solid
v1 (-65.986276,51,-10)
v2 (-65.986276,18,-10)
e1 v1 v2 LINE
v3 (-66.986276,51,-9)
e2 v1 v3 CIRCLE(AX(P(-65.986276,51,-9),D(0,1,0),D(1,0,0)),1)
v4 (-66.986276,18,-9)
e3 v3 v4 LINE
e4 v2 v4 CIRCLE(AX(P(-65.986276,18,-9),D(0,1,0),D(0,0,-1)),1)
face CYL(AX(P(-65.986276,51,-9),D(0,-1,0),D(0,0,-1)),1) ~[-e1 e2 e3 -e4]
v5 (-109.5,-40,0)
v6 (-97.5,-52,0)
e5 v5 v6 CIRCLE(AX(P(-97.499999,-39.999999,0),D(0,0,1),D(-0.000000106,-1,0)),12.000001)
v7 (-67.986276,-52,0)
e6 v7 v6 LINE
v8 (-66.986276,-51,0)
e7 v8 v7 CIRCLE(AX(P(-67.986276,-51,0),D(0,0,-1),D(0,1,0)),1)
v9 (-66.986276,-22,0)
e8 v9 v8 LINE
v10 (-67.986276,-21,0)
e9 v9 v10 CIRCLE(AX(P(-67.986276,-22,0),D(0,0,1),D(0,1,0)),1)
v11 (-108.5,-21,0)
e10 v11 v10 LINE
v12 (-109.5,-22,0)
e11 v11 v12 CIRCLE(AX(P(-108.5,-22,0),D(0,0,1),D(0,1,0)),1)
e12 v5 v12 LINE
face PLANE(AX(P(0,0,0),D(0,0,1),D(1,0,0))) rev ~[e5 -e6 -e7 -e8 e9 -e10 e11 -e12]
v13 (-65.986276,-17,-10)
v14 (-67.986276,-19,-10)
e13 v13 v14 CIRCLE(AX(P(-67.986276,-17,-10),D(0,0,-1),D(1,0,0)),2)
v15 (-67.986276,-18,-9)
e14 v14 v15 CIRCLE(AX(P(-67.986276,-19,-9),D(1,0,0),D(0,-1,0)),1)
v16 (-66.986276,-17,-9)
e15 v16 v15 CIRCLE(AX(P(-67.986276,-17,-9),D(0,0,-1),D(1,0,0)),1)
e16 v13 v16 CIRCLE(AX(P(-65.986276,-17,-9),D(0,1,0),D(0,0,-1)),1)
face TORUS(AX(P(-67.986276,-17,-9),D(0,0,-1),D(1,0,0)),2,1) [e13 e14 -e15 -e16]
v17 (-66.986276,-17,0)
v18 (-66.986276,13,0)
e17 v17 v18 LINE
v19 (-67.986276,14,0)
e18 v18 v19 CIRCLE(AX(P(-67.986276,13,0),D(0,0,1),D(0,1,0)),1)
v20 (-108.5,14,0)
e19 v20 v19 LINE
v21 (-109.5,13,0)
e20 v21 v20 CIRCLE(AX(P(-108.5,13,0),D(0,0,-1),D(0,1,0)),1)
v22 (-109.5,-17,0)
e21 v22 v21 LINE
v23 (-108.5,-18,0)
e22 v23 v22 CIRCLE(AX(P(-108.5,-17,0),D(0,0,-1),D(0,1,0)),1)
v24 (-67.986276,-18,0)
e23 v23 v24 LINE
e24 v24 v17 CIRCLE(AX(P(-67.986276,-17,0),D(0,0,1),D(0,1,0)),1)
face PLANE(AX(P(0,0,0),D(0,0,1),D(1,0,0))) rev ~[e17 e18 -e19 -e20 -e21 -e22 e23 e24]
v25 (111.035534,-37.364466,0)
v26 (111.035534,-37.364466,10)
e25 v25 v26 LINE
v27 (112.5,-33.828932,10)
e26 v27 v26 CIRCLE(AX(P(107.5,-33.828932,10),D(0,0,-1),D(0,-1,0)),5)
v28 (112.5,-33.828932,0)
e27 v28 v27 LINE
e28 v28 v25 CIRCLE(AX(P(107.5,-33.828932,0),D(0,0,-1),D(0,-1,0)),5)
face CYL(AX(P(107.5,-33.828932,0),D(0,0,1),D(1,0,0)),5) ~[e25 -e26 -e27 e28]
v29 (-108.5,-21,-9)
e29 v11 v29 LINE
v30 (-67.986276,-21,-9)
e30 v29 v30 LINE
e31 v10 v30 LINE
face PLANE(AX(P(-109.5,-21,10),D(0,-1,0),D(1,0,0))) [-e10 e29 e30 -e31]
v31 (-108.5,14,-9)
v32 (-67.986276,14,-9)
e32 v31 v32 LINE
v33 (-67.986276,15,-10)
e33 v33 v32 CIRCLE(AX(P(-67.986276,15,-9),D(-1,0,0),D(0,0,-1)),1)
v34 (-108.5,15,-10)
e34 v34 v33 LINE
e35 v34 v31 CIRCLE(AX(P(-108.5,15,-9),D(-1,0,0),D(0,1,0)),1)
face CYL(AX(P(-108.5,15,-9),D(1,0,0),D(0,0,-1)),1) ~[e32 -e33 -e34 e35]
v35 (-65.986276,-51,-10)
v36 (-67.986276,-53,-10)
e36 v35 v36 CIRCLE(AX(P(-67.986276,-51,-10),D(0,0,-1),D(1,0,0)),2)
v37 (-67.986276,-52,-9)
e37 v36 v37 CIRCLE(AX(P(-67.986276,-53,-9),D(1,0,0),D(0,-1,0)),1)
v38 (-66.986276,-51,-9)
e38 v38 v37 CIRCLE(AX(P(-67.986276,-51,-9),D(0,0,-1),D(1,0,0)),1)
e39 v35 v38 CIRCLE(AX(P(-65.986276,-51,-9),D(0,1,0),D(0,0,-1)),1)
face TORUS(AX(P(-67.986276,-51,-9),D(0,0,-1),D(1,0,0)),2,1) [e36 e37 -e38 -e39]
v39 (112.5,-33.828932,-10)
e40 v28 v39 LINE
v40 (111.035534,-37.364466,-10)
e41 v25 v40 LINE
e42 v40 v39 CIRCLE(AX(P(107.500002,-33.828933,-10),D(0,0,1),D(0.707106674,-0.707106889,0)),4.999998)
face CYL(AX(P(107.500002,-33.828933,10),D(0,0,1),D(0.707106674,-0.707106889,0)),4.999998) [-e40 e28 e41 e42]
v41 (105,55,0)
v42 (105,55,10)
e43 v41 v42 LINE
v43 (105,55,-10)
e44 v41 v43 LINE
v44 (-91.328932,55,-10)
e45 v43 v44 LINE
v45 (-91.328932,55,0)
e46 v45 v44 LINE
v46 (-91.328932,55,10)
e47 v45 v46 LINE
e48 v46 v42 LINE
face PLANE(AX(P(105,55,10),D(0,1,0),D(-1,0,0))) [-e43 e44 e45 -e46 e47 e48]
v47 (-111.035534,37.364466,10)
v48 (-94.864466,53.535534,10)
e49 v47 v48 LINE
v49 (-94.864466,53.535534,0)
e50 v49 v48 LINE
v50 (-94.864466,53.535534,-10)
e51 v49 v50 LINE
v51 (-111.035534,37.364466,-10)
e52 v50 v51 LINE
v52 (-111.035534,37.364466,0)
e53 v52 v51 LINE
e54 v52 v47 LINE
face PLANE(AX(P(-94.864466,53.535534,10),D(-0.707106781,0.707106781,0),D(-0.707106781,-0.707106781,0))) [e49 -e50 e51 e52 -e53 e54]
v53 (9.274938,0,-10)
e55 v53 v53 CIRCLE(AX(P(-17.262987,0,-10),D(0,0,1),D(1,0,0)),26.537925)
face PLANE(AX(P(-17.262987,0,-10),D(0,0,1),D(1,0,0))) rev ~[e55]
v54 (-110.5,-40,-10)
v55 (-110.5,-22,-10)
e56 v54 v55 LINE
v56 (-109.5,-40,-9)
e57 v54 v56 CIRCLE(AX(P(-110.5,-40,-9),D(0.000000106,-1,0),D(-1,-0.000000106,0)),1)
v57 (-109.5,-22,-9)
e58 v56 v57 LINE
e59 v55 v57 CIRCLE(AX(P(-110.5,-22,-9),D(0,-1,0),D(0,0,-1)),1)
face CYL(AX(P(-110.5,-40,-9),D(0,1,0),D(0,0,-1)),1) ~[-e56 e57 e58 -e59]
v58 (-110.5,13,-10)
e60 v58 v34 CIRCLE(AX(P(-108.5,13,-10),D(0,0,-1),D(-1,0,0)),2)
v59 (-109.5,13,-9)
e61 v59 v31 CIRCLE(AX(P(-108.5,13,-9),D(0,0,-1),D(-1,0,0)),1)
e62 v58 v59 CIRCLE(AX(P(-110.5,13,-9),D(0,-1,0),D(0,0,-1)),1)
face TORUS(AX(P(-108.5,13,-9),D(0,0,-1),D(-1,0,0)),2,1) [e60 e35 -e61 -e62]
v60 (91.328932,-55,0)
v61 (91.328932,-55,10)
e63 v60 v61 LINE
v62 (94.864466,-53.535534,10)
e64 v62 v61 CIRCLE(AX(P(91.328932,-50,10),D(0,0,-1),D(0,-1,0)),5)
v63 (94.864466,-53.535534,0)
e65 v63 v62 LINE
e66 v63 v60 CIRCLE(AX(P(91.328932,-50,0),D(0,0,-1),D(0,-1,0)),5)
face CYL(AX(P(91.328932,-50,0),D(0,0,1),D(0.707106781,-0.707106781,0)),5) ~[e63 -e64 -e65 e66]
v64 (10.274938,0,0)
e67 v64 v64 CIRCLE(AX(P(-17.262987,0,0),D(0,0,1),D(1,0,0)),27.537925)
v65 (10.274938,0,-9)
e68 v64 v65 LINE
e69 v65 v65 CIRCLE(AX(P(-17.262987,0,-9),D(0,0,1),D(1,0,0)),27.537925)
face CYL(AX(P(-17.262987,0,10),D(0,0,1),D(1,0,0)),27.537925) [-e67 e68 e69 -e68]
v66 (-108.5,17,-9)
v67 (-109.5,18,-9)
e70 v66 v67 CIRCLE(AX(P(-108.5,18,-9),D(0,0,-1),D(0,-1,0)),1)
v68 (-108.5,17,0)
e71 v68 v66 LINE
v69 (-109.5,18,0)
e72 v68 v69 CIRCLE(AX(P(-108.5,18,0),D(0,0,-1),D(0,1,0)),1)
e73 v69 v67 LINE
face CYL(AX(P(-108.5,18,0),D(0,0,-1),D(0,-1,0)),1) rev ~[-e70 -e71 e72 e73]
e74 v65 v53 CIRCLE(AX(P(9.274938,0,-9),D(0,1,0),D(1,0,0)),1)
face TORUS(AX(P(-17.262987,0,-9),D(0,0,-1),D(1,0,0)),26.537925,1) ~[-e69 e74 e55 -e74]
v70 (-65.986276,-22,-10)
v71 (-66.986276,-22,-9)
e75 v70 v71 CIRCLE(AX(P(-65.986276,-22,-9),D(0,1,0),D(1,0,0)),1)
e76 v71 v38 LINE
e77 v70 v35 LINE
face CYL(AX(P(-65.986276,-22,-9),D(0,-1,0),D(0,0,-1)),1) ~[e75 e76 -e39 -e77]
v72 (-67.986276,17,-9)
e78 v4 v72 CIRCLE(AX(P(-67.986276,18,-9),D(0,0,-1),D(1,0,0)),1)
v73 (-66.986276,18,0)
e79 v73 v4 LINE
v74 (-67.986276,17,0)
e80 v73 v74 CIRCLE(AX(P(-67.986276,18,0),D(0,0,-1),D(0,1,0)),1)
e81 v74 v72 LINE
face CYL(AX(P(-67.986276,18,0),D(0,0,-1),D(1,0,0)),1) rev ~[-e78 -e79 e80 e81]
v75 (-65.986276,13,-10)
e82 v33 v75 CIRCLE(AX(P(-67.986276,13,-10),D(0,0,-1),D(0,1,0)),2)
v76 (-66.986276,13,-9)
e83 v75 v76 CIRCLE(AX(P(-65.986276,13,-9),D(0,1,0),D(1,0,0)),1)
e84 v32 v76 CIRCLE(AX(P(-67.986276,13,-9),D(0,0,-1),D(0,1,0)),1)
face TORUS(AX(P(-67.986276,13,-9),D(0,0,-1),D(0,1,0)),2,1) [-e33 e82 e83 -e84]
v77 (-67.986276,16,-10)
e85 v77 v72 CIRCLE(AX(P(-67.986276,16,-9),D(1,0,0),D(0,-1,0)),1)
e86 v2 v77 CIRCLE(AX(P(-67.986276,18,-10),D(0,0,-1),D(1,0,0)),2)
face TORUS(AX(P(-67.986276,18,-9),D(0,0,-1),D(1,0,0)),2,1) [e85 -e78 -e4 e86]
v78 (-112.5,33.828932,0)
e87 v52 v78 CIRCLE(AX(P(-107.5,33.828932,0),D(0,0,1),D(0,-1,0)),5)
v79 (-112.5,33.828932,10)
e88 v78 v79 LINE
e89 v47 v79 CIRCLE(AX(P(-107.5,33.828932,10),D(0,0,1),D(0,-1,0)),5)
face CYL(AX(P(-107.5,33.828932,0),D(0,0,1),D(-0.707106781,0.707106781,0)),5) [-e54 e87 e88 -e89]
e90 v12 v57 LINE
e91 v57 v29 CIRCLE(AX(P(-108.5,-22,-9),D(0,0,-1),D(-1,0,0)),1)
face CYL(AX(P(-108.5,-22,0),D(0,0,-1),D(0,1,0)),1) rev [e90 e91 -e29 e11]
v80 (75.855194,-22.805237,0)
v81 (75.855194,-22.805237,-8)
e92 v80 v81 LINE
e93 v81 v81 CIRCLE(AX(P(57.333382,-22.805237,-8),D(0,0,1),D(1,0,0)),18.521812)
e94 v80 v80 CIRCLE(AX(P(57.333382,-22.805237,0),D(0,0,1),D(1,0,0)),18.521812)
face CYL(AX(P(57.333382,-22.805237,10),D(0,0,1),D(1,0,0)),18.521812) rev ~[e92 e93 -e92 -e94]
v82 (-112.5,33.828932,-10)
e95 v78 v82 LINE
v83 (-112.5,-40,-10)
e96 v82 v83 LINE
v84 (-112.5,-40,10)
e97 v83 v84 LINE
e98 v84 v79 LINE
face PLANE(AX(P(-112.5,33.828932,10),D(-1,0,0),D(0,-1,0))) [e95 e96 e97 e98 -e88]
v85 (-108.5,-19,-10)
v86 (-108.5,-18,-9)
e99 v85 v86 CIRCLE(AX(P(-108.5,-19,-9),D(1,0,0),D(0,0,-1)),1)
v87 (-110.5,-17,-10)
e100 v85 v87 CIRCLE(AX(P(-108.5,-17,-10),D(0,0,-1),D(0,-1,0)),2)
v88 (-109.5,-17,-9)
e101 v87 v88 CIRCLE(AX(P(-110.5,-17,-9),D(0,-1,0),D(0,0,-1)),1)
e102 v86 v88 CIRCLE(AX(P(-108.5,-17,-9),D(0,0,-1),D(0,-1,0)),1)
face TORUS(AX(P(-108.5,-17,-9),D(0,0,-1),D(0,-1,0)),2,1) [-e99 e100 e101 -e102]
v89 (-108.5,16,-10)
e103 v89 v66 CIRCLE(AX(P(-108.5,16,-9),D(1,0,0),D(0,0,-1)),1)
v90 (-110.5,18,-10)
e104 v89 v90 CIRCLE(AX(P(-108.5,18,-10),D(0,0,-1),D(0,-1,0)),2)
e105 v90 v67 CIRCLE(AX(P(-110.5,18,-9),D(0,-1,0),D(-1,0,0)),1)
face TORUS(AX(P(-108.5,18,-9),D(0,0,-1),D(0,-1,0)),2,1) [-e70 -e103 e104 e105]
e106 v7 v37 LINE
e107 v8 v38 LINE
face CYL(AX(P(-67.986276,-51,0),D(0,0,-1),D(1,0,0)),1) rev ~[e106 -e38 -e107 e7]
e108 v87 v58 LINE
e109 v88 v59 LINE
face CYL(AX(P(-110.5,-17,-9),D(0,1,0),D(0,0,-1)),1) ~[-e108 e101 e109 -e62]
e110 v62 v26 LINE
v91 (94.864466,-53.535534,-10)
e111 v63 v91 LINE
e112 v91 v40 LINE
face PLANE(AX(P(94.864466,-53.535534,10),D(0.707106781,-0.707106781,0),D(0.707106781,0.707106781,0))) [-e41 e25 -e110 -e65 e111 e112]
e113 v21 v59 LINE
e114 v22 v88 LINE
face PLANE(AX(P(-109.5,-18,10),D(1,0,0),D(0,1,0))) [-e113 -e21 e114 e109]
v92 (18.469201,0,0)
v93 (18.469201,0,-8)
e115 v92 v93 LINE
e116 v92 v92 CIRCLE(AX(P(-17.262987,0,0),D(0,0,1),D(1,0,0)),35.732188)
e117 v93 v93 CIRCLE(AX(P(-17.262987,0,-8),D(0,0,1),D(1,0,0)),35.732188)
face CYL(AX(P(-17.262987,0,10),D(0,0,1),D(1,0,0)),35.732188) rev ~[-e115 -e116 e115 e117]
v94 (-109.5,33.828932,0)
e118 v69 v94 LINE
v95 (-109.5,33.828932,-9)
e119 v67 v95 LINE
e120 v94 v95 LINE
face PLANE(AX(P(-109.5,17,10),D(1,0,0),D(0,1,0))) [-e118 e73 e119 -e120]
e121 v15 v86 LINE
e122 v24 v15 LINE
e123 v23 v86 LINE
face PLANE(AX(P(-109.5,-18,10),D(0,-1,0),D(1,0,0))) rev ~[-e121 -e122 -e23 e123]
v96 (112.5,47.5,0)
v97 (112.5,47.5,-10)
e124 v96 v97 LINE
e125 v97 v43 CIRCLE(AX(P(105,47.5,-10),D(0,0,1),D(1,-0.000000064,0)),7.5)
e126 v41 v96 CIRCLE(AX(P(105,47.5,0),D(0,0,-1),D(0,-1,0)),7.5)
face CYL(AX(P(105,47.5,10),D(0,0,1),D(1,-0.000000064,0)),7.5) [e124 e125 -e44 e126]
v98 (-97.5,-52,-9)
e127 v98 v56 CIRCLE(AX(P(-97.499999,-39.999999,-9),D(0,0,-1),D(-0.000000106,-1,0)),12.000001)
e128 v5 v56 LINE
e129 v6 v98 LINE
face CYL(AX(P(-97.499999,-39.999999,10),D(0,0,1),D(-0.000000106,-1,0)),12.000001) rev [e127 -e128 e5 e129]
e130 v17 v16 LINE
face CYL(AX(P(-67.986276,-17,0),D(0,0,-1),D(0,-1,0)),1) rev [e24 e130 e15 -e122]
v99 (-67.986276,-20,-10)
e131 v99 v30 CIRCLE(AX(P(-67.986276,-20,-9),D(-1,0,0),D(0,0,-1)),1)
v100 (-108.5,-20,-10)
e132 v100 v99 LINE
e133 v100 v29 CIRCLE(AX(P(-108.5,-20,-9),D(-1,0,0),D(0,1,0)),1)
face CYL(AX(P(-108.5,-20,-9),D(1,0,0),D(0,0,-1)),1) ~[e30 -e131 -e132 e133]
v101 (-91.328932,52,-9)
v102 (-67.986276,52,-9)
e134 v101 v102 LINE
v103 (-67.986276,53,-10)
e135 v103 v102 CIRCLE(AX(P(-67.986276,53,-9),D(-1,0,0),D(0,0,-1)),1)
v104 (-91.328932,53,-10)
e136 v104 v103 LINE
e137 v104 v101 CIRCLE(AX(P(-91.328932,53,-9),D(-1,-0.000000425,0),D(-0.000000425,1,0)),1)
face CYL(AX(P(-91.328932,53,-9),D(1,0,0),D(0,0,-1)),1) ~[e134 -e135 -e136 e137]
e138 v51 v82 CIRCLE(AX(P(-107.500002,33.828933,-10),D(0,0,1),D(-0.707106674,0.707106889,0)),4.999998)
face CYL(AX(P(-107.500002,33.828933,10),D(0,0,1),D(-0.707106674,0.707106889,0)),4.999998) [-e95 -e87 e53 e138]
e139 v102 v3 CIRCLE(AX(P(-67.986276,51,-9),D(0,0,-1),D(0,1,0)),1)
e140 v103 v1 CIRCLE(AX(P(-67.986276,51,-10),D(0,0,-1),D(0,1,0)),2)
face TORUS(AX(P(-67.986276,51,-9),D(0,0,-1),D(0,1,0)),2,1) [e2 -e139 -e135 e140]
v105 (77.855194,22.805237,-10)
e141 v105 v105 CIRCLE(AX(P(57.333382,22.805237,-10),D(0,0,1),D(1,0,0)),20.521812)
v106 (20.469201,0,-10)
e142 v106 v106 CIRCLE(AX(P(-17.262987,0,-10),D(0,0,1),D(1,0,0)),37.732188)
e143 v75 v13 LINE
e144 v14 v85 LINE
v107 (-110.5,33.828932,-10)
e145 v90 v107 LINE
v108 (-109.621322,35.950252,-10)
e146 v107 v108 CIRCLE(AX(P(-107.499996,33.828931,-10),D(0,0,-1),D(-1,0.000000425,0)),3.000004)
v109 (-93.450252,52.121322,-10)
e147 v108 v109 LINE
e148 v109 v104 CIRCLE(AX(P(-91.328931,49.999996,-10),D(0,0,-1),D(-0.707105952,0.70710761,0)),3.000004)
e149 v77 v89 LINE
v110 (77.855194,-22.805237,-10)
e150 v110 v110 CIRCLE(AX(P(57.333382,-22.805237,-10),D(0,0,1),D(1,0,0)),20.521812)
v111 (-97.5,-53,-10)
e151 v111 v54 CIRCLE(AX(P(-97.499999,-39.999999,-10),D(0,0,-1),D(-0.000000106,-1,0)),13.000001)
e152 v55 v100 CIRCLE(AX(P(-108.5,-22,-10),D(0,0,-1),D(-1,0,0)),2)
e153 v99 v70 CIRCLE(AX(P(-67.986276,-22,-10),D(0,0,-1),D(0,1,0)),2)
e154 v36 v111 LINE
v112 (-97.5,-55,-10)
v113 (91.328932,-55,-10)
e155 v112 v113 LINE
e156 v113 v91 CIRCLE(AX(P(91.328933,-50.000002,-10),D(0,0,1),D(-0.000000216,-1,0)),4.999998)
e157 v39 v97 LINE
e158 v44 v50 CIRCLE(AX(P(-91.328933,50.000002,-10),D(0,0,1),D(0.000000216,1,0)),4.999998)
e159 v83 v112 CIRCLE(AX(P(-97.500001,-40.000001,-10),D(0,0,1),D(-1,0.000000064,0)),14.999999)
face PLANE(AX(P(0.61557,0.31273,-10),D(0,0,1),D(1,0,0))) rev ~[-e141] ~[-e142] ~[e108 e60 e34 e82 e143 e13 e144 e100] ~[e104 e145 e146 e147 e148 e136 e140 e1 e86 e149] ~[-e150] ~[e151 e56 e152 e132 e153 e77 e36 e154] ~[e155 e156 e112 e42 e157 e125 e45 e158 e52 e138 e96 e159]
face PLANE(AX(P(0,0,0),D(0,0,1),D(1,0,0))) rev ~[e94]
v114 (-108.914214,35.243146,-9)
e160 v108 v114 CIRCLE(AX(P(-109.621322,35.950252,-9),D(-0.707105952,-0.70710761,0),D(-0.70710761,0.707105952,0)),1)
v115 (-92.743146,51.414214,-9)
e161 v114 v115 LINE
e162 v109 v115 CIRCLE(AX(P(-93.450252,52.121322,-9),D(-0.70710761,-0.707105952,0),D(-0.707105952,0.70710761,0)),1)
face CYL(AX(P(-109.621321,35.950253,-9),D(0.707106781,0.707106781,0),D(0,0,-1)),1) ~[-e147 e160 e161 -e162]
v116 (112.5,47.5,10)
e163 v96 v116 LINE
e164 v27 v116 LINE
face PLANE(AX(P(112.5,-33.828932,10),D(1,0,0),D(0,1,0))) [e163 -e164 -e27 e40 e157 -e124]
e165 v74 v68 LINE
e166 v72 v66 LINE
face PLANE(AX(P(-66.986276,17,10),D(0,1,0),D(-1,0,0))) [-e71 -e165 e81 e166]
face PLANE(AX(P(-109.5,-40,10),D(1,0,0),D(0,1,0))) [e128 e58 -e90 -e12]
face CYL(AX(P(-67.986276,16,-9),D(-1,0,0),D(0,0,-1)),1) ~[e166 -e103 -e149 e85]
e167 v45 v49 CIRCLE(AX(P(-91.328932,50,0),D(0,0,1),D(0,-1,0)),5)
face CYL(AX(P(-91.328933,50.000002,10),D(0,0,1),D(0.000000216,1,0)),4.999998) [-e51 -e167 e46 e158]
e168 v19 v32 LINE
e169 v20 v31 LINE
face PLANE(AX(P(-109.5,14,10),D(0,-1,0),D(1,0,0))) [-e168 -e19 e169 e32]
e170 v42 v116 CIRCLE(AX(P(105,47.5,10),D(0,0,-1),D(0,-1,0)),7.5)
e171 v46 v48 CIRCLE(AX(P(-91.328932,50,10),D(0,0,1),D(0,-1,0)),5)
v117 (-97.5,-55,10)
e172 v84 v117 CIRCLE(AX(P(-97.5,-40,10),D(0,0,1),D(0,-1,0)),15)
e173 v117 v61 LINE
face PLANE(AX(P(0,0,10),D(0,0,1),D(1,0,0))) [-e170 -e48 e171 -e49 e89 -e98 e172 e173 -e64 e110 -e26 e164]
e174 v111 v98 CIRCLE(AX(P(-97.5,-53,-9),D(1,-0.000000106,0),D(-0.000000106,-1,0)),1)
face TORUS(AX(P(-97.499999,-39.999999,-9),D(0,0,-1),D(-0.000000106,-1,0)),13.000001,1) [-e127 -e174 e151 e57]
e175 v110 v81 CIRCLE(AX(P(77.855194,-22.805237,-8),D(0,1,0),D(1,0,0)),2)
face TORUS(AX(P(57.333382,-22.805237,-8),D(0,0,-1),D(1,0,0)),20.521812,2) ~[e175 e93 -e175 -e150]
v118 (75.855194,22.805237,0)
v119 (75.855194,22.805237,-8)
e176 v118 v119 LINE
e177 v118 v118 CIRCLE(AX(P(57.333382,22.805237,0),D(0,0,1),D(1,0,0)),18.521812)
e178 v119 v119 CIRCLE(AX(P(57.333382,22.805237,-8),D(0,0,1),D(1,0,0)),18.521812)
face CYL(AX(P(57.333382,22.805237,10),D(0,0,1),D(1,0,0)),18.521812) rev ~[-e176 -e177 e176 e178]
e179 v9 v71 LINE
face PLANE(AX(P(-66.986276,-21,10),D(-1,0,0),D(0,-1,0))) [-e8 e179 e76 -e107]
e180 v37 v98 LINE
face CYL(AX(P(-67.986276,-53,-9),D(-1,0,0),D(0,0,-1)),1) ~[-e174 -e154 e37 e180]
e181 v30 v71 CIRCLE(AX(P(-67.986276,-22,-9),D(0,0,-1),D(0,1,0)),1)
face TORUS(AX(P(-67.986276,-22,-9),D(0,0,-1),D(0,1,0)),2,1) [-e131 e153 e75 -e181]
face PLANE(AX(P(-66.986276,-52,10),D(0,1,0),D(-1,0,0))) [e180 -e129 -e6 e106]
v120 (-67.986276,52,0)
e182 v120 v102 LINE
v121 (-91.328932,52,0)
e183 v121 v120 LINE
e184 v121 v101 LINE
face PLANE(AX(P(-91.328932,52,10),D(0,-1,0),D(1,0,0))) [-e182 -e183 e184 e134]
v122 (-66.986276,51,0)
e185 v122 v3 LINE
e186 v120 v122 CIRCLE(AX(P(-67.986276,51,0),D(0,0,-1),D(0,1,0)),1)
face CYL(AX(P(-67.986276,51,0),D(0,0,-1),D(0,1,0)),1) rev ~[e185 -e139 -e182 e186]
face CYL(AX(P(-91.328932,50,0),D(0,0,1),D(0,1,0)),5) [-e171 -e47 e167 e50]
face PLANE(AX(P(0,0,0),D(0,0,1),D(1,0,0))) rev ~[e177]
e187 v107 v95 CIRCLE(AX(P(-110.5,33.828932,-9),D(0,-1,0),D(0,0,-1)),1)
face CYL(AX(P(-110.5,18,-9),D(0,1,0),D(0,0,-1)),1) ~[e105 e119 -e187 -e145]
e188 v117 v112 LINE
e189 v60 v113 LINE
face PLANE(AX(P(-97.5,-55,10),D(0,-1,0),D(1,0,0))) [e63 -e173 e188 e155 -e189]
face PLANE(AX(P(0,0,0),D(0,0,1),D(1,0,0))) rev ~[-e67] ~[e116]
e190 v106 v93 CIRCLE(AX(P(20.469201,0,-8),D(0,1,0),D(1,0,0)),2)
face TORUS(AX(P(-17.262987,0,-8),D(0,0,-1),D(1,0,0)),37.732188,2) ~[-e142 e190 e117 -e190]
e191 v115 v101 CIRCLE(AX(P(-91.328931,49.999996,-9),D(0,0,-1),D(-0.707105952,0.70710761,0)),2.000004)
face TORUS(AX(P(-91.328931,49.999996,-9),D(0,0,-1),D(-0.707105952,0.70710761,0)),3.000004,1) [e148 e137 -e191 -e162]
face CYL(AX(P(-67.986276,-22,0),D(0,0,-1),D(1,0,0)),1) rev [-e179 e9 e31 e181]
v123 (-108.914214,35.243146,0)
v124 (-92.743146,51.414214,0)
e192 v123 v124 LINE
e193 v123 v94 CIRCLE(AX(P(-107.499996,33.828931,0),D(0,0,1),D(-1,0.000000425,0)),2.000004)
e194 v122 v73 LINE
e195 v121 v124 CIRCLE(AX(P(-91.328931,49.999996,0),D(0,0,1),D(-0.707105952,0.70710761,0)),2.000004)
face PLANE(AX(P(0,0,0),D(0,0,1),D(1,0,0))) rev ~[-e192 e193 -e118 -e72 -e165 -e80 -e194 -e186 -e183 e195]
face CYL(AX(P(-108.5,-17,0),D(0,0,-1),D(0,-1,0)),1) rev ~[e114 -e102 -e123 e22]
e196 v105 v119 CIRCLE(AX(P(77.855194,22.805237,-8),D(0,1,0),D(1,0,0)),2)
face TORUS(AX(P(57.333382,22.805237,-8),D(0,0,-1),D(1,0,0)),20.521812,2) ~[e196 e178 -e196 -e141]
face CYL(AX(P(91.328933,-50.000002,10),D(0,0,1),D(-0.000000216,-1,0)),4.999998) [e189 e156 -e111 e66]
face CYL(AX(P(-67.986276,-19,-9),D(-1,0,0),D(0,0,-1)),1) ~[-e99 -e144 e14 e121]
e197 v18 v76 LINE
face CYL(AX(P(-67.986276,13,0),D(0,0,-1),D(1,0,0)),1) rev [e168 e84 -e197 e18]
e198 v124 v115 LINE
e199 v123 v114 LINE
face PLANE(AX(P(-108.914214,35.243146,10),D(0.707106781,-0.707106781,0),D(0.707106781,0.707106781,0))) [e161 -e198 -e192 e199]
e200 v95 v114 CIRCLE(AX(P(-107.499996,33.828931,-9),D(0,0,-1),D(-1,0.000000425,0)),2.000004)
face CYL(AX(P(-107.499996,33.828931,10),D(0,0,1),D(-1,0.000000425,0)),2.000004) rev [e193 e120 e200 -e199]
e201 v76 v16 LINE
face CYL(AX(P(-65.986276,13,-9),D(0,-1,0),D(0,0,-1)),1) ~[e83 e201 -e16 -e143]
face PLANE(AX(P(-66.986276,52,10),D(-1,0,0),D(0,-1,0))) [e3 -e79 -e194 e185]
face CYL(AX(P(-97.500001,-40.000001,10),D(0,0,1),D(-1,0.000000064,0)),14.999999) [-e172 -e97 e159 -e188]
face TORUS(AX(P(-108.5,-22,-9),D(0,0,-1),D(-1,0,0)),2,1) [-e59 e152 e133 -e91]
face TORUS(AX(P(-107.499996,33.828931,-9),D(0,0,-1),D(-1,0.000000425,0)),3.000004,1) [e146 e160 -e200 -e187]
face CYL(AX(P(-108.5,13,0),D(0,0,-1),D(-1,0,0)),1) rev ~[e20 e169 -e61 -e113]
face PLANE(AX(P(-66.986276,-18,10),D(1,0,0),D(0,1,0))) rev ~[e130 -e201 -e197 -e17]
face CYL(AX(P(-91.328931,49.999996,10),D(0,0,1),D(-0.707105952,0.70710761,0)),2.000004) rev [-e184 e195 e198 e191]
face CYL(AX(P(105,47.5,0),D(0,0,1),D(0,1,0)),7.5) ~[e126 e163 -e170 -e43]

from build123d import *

# Parameters (mm, degrees)
SKETCH1_W           = 225
SKETCH1_H           = 110
BOSS_EXTRUDE2_DEPTH = 10
CHAMFER1_SIZE       = 19.1
FILLET1_R           = 15
FILLET2_R           = 7.5
FILLET3_R           = 5
SKETCH4_R           = 18.521812
SKETCH4_W           = 42.513724
SKETCH4_H           = 32
SKETCH4_R_2         = 35.732188
SKETCH4_R_3         = 27.537925
BOSS_EXTRUDE4_DEPTH = 20
FILLET4_R           = 2
FILLET5_R           = 1
FILLET6_R           = 1
FILLET7_R           = 1
FILLET8_R           = 1
FILLET9_R           = 1
FILLET10_R          = 1


with BuildPart() as part:
    # Sketch1 → Boss-Extrude2 (new body)
    with BuildSketch(Plane.XY):
        Rectangle(SKETCH1_W, SKETCH1_H)
    extrude(amount=BOSS_EXTRUDE2_DEPTH)

    # Chamfer1
    chamfer1_edges = [part.edges().sort_by_distance(p)[0] for p in [
        (112.5, -55, 5),
        (-112.5, 55, 5),
    ]]
    chamfer(chamfer1_edges, length=CHAMFER1_SIZE)

    # Fillet1
    fillet1_edges = [part.edges().sort_by_distance(p)[0] for p in [
        (-112.5, -55, 5),
    ]]
    fillet(fillet1_edges, radius=FILLET1_R)

    # Fillet2
    fillet2_edges = [part.edges().sort_by_distance(p)[0] for p in [
        (112.5, 55, 5),
    ]]
    fillet(fillet2_edges, radius=FILLET2_R)

    # Fillet3
    fillet3_edges = [part.edges().sort_by_distance(p)[0] for p in [
        (112.5, -35.9, 5),
        (93.4, -55, 5),
        (-112.5, 35.9, 5),
        (-93.4, 55, 5),
    ]]
    fillet(fillet3_edges, radius=FILLET3_R)

    # Sketch4 → Boss-Extrude4 (add)
    # profile 1 of 2: a face of its own
    with BuildSketch(Plane.XY.offset(10)):
        with BuildLine():
            ThreePointArc((112.5, 47.5), (110.303301, 52.803301), (105, 55))
            Line((105, 55), (-91.328932, 55))
            ThreePointArc((-91.328932, 55), (-93.242349, 54.619398), (-94.864466, 53.535534))
            Line((-94.864466, 53.535534), (-111.035534, 37.364466))
            ThreePointArc((-111.035534, 37.364466), (-112.119398, 35.742349), (-112.5, 33.828932))
            Line((-112.5, 33.828932), (-112.5, -40))
            ThreePointArc((-112.5, -40), (-108.106602, -50.606602), (-97.5, -55))
            Line((-97.5, -55), (91.328932, -55))
            ThreePointArc((91.328932, -55), (93.242349, -54.619398), (94.864466, -53.535534))
            Line((94.864466, -53.535534), (111.035534, -37.364466))
            ThreePointArc((111.035534, -37.364466), (112.119398, -35.742349), (112.5, -33.828932))
            Line((112.5, -33.828932), (112.5, 47.5))
        make_face()
        with BuildLine():
            Line((-66.986276, -52), (-97.5, -52))
            ThreePointArc((-97.5, -52), (-105.985281, -48.485281), (-109.5, -40))
            Line((-109.5, -40), (-109.5, -21))
            Line((-109.5, -21), (-66.986276, -21))
            Line((-66.986276, -21), (-66.986276, -52))
        make_face(mode=Mode.SUBTRACT)
        with Locations((57.333382, -22.805237)):
            Circle(SKETCH4_R, mode=Mode.SUBTRACT)
        with BuildLine():
            Line((-66.986276, 52), (-66.986276, 17))
            Line((-66.986276, 17), (-109.5, 17))
            Line((-109.5, 17), (-109.5, 33.828932))
            ThreePointArc((-109.5, 33.828932), (-109.347759, 34.594299), (-108.914214, 35.243146))
            Line((-108.914214, 35.243146), (-92.743146, 51.414214))
            ThreePointArc((-92.743146, 51.414214), (-92.094299, 51.847759), (-91.328932, 52))
            Line((-91.328932, 52), (-66.986276, 52))
        make_face(mode=Mode.SUBTRACT)
        with Locations((-88.243138, -2)):
            Rectangle(SKETCH4_W, SKETCH4_H, mode=Mode.SUBTRACT)
        with Locations((-17.262987, 0)):
            Circle(SKETCH4_R_2, mode=Mode.SUBTRACT)
        with Locations((57.333382, 22.805237)):
            Circle(SKETCH4_R, mode=Mode.SUBTRACT)
    # profile 2 of 2: a face of its own
    with BuildSketch(Plane.XY.offset(10)):
        with Locations((-17.262987, 0)):
            Circle(SKETCH4_R_3)
    extrude(amount=-BOSS_EXTRUDE4_DEPTH)

    # Fillet4
    fillet4_edges = [part.edges().sort_by_distance(p)[0] for p in [
        (38.811571, -22.805237, -10),
        (-52.995175, 0, -10),
        (38.811571, 22.805237, -10),
    ]]
    fillet(fillet4_edges, radius=FILLET4_R)

    # Fillet5
    fillet5_edges = [part.edges().sort_by_distance(p)[0] for p in [
        (-44.800912, 0, -10),
    ]]
    fillet(fillet5_edges, radius=FILLET5_R)

    # Fillet6
    fillet6_edges = [part.edges().sort_by_distance(p)[0] for p in [
        (-66.986276, -21, -5),
        (-109.5, -21, -5),
        (-66.986276, -52, -5),
    ]]
    fillet(fillet6_edges, radius=FILLET6_R)

    # Fillet7
    fillet7_edges = [part.edges().sort_by_distance(p)[0] for p in [
        (-66.986276, 52, -5),
        (-109.5, 17, -5),
        (-66.986276, 14, -5),
        (-109.5, 14, -5),
        (-109.5, -18, -5),
        (-66.986276, 17, -5),
        (-66.986276, -18, -5),
    ]]
    fillet(fillet7_edges, radius=FILLET7_R)

    # Fillet8
    fillet8_edges = [part.edges().sort_by_distance(p)[0] for p in [
        (-92.094299, 51.847759, -10),
        (-100.82868, 43.32868, -10),
        (-109.347759, 34.594299, -10),
        (-109.5, 25.914466, -10),
        (-88.243138, 17, -10),
        (-79.657604, 52, -10),
        (-66.986276, 34.5, -10),
        (-109.207107, 17.292893, -10),
        (-67.279169, 51.707107, -10),
        (-67.279169, 17.292893, -10),
    ]]
    fillet(fillet8_edges, radius=FILLET8_R)

    # Fillet9
    fillet9_edges = [part.edges().sort_by_distance(p)[0] for p in [
        (-109.5, -2, -10),
        (-88.243138, 14, -10),
        (-66.986276, -2, -10),
        (-88.243138, -18, -10),
        (-109.207107, 13.707107, -10),
        (-67.279169, 13.707107, -10),
        (-67.279169, -17.707107, -10),
        (-109.207107, -17.707107, -10),
    ]]
    fillet(fillet9_edges, radius=FILLET9_R)

    # Fillet10
    fillet10_edges = [part.edges().sort_by_distance(p)[0] for p in [
        (-105.985281, -48.485281, -10),
        (-82.743138, -52, -10),
        (-66.986276, -36.5, -10),
        (-88.243138, -21, -10),
        (-109.5, -31, -10),
        (-67.279169, -51.707107, -10),
        (-67.279169, -21.292893, -10),
        (-109.207107, -21.292893, -10),
    ]]
    fillet(fillet10_edges, radius=FILLET10_R)


solid = part.part
